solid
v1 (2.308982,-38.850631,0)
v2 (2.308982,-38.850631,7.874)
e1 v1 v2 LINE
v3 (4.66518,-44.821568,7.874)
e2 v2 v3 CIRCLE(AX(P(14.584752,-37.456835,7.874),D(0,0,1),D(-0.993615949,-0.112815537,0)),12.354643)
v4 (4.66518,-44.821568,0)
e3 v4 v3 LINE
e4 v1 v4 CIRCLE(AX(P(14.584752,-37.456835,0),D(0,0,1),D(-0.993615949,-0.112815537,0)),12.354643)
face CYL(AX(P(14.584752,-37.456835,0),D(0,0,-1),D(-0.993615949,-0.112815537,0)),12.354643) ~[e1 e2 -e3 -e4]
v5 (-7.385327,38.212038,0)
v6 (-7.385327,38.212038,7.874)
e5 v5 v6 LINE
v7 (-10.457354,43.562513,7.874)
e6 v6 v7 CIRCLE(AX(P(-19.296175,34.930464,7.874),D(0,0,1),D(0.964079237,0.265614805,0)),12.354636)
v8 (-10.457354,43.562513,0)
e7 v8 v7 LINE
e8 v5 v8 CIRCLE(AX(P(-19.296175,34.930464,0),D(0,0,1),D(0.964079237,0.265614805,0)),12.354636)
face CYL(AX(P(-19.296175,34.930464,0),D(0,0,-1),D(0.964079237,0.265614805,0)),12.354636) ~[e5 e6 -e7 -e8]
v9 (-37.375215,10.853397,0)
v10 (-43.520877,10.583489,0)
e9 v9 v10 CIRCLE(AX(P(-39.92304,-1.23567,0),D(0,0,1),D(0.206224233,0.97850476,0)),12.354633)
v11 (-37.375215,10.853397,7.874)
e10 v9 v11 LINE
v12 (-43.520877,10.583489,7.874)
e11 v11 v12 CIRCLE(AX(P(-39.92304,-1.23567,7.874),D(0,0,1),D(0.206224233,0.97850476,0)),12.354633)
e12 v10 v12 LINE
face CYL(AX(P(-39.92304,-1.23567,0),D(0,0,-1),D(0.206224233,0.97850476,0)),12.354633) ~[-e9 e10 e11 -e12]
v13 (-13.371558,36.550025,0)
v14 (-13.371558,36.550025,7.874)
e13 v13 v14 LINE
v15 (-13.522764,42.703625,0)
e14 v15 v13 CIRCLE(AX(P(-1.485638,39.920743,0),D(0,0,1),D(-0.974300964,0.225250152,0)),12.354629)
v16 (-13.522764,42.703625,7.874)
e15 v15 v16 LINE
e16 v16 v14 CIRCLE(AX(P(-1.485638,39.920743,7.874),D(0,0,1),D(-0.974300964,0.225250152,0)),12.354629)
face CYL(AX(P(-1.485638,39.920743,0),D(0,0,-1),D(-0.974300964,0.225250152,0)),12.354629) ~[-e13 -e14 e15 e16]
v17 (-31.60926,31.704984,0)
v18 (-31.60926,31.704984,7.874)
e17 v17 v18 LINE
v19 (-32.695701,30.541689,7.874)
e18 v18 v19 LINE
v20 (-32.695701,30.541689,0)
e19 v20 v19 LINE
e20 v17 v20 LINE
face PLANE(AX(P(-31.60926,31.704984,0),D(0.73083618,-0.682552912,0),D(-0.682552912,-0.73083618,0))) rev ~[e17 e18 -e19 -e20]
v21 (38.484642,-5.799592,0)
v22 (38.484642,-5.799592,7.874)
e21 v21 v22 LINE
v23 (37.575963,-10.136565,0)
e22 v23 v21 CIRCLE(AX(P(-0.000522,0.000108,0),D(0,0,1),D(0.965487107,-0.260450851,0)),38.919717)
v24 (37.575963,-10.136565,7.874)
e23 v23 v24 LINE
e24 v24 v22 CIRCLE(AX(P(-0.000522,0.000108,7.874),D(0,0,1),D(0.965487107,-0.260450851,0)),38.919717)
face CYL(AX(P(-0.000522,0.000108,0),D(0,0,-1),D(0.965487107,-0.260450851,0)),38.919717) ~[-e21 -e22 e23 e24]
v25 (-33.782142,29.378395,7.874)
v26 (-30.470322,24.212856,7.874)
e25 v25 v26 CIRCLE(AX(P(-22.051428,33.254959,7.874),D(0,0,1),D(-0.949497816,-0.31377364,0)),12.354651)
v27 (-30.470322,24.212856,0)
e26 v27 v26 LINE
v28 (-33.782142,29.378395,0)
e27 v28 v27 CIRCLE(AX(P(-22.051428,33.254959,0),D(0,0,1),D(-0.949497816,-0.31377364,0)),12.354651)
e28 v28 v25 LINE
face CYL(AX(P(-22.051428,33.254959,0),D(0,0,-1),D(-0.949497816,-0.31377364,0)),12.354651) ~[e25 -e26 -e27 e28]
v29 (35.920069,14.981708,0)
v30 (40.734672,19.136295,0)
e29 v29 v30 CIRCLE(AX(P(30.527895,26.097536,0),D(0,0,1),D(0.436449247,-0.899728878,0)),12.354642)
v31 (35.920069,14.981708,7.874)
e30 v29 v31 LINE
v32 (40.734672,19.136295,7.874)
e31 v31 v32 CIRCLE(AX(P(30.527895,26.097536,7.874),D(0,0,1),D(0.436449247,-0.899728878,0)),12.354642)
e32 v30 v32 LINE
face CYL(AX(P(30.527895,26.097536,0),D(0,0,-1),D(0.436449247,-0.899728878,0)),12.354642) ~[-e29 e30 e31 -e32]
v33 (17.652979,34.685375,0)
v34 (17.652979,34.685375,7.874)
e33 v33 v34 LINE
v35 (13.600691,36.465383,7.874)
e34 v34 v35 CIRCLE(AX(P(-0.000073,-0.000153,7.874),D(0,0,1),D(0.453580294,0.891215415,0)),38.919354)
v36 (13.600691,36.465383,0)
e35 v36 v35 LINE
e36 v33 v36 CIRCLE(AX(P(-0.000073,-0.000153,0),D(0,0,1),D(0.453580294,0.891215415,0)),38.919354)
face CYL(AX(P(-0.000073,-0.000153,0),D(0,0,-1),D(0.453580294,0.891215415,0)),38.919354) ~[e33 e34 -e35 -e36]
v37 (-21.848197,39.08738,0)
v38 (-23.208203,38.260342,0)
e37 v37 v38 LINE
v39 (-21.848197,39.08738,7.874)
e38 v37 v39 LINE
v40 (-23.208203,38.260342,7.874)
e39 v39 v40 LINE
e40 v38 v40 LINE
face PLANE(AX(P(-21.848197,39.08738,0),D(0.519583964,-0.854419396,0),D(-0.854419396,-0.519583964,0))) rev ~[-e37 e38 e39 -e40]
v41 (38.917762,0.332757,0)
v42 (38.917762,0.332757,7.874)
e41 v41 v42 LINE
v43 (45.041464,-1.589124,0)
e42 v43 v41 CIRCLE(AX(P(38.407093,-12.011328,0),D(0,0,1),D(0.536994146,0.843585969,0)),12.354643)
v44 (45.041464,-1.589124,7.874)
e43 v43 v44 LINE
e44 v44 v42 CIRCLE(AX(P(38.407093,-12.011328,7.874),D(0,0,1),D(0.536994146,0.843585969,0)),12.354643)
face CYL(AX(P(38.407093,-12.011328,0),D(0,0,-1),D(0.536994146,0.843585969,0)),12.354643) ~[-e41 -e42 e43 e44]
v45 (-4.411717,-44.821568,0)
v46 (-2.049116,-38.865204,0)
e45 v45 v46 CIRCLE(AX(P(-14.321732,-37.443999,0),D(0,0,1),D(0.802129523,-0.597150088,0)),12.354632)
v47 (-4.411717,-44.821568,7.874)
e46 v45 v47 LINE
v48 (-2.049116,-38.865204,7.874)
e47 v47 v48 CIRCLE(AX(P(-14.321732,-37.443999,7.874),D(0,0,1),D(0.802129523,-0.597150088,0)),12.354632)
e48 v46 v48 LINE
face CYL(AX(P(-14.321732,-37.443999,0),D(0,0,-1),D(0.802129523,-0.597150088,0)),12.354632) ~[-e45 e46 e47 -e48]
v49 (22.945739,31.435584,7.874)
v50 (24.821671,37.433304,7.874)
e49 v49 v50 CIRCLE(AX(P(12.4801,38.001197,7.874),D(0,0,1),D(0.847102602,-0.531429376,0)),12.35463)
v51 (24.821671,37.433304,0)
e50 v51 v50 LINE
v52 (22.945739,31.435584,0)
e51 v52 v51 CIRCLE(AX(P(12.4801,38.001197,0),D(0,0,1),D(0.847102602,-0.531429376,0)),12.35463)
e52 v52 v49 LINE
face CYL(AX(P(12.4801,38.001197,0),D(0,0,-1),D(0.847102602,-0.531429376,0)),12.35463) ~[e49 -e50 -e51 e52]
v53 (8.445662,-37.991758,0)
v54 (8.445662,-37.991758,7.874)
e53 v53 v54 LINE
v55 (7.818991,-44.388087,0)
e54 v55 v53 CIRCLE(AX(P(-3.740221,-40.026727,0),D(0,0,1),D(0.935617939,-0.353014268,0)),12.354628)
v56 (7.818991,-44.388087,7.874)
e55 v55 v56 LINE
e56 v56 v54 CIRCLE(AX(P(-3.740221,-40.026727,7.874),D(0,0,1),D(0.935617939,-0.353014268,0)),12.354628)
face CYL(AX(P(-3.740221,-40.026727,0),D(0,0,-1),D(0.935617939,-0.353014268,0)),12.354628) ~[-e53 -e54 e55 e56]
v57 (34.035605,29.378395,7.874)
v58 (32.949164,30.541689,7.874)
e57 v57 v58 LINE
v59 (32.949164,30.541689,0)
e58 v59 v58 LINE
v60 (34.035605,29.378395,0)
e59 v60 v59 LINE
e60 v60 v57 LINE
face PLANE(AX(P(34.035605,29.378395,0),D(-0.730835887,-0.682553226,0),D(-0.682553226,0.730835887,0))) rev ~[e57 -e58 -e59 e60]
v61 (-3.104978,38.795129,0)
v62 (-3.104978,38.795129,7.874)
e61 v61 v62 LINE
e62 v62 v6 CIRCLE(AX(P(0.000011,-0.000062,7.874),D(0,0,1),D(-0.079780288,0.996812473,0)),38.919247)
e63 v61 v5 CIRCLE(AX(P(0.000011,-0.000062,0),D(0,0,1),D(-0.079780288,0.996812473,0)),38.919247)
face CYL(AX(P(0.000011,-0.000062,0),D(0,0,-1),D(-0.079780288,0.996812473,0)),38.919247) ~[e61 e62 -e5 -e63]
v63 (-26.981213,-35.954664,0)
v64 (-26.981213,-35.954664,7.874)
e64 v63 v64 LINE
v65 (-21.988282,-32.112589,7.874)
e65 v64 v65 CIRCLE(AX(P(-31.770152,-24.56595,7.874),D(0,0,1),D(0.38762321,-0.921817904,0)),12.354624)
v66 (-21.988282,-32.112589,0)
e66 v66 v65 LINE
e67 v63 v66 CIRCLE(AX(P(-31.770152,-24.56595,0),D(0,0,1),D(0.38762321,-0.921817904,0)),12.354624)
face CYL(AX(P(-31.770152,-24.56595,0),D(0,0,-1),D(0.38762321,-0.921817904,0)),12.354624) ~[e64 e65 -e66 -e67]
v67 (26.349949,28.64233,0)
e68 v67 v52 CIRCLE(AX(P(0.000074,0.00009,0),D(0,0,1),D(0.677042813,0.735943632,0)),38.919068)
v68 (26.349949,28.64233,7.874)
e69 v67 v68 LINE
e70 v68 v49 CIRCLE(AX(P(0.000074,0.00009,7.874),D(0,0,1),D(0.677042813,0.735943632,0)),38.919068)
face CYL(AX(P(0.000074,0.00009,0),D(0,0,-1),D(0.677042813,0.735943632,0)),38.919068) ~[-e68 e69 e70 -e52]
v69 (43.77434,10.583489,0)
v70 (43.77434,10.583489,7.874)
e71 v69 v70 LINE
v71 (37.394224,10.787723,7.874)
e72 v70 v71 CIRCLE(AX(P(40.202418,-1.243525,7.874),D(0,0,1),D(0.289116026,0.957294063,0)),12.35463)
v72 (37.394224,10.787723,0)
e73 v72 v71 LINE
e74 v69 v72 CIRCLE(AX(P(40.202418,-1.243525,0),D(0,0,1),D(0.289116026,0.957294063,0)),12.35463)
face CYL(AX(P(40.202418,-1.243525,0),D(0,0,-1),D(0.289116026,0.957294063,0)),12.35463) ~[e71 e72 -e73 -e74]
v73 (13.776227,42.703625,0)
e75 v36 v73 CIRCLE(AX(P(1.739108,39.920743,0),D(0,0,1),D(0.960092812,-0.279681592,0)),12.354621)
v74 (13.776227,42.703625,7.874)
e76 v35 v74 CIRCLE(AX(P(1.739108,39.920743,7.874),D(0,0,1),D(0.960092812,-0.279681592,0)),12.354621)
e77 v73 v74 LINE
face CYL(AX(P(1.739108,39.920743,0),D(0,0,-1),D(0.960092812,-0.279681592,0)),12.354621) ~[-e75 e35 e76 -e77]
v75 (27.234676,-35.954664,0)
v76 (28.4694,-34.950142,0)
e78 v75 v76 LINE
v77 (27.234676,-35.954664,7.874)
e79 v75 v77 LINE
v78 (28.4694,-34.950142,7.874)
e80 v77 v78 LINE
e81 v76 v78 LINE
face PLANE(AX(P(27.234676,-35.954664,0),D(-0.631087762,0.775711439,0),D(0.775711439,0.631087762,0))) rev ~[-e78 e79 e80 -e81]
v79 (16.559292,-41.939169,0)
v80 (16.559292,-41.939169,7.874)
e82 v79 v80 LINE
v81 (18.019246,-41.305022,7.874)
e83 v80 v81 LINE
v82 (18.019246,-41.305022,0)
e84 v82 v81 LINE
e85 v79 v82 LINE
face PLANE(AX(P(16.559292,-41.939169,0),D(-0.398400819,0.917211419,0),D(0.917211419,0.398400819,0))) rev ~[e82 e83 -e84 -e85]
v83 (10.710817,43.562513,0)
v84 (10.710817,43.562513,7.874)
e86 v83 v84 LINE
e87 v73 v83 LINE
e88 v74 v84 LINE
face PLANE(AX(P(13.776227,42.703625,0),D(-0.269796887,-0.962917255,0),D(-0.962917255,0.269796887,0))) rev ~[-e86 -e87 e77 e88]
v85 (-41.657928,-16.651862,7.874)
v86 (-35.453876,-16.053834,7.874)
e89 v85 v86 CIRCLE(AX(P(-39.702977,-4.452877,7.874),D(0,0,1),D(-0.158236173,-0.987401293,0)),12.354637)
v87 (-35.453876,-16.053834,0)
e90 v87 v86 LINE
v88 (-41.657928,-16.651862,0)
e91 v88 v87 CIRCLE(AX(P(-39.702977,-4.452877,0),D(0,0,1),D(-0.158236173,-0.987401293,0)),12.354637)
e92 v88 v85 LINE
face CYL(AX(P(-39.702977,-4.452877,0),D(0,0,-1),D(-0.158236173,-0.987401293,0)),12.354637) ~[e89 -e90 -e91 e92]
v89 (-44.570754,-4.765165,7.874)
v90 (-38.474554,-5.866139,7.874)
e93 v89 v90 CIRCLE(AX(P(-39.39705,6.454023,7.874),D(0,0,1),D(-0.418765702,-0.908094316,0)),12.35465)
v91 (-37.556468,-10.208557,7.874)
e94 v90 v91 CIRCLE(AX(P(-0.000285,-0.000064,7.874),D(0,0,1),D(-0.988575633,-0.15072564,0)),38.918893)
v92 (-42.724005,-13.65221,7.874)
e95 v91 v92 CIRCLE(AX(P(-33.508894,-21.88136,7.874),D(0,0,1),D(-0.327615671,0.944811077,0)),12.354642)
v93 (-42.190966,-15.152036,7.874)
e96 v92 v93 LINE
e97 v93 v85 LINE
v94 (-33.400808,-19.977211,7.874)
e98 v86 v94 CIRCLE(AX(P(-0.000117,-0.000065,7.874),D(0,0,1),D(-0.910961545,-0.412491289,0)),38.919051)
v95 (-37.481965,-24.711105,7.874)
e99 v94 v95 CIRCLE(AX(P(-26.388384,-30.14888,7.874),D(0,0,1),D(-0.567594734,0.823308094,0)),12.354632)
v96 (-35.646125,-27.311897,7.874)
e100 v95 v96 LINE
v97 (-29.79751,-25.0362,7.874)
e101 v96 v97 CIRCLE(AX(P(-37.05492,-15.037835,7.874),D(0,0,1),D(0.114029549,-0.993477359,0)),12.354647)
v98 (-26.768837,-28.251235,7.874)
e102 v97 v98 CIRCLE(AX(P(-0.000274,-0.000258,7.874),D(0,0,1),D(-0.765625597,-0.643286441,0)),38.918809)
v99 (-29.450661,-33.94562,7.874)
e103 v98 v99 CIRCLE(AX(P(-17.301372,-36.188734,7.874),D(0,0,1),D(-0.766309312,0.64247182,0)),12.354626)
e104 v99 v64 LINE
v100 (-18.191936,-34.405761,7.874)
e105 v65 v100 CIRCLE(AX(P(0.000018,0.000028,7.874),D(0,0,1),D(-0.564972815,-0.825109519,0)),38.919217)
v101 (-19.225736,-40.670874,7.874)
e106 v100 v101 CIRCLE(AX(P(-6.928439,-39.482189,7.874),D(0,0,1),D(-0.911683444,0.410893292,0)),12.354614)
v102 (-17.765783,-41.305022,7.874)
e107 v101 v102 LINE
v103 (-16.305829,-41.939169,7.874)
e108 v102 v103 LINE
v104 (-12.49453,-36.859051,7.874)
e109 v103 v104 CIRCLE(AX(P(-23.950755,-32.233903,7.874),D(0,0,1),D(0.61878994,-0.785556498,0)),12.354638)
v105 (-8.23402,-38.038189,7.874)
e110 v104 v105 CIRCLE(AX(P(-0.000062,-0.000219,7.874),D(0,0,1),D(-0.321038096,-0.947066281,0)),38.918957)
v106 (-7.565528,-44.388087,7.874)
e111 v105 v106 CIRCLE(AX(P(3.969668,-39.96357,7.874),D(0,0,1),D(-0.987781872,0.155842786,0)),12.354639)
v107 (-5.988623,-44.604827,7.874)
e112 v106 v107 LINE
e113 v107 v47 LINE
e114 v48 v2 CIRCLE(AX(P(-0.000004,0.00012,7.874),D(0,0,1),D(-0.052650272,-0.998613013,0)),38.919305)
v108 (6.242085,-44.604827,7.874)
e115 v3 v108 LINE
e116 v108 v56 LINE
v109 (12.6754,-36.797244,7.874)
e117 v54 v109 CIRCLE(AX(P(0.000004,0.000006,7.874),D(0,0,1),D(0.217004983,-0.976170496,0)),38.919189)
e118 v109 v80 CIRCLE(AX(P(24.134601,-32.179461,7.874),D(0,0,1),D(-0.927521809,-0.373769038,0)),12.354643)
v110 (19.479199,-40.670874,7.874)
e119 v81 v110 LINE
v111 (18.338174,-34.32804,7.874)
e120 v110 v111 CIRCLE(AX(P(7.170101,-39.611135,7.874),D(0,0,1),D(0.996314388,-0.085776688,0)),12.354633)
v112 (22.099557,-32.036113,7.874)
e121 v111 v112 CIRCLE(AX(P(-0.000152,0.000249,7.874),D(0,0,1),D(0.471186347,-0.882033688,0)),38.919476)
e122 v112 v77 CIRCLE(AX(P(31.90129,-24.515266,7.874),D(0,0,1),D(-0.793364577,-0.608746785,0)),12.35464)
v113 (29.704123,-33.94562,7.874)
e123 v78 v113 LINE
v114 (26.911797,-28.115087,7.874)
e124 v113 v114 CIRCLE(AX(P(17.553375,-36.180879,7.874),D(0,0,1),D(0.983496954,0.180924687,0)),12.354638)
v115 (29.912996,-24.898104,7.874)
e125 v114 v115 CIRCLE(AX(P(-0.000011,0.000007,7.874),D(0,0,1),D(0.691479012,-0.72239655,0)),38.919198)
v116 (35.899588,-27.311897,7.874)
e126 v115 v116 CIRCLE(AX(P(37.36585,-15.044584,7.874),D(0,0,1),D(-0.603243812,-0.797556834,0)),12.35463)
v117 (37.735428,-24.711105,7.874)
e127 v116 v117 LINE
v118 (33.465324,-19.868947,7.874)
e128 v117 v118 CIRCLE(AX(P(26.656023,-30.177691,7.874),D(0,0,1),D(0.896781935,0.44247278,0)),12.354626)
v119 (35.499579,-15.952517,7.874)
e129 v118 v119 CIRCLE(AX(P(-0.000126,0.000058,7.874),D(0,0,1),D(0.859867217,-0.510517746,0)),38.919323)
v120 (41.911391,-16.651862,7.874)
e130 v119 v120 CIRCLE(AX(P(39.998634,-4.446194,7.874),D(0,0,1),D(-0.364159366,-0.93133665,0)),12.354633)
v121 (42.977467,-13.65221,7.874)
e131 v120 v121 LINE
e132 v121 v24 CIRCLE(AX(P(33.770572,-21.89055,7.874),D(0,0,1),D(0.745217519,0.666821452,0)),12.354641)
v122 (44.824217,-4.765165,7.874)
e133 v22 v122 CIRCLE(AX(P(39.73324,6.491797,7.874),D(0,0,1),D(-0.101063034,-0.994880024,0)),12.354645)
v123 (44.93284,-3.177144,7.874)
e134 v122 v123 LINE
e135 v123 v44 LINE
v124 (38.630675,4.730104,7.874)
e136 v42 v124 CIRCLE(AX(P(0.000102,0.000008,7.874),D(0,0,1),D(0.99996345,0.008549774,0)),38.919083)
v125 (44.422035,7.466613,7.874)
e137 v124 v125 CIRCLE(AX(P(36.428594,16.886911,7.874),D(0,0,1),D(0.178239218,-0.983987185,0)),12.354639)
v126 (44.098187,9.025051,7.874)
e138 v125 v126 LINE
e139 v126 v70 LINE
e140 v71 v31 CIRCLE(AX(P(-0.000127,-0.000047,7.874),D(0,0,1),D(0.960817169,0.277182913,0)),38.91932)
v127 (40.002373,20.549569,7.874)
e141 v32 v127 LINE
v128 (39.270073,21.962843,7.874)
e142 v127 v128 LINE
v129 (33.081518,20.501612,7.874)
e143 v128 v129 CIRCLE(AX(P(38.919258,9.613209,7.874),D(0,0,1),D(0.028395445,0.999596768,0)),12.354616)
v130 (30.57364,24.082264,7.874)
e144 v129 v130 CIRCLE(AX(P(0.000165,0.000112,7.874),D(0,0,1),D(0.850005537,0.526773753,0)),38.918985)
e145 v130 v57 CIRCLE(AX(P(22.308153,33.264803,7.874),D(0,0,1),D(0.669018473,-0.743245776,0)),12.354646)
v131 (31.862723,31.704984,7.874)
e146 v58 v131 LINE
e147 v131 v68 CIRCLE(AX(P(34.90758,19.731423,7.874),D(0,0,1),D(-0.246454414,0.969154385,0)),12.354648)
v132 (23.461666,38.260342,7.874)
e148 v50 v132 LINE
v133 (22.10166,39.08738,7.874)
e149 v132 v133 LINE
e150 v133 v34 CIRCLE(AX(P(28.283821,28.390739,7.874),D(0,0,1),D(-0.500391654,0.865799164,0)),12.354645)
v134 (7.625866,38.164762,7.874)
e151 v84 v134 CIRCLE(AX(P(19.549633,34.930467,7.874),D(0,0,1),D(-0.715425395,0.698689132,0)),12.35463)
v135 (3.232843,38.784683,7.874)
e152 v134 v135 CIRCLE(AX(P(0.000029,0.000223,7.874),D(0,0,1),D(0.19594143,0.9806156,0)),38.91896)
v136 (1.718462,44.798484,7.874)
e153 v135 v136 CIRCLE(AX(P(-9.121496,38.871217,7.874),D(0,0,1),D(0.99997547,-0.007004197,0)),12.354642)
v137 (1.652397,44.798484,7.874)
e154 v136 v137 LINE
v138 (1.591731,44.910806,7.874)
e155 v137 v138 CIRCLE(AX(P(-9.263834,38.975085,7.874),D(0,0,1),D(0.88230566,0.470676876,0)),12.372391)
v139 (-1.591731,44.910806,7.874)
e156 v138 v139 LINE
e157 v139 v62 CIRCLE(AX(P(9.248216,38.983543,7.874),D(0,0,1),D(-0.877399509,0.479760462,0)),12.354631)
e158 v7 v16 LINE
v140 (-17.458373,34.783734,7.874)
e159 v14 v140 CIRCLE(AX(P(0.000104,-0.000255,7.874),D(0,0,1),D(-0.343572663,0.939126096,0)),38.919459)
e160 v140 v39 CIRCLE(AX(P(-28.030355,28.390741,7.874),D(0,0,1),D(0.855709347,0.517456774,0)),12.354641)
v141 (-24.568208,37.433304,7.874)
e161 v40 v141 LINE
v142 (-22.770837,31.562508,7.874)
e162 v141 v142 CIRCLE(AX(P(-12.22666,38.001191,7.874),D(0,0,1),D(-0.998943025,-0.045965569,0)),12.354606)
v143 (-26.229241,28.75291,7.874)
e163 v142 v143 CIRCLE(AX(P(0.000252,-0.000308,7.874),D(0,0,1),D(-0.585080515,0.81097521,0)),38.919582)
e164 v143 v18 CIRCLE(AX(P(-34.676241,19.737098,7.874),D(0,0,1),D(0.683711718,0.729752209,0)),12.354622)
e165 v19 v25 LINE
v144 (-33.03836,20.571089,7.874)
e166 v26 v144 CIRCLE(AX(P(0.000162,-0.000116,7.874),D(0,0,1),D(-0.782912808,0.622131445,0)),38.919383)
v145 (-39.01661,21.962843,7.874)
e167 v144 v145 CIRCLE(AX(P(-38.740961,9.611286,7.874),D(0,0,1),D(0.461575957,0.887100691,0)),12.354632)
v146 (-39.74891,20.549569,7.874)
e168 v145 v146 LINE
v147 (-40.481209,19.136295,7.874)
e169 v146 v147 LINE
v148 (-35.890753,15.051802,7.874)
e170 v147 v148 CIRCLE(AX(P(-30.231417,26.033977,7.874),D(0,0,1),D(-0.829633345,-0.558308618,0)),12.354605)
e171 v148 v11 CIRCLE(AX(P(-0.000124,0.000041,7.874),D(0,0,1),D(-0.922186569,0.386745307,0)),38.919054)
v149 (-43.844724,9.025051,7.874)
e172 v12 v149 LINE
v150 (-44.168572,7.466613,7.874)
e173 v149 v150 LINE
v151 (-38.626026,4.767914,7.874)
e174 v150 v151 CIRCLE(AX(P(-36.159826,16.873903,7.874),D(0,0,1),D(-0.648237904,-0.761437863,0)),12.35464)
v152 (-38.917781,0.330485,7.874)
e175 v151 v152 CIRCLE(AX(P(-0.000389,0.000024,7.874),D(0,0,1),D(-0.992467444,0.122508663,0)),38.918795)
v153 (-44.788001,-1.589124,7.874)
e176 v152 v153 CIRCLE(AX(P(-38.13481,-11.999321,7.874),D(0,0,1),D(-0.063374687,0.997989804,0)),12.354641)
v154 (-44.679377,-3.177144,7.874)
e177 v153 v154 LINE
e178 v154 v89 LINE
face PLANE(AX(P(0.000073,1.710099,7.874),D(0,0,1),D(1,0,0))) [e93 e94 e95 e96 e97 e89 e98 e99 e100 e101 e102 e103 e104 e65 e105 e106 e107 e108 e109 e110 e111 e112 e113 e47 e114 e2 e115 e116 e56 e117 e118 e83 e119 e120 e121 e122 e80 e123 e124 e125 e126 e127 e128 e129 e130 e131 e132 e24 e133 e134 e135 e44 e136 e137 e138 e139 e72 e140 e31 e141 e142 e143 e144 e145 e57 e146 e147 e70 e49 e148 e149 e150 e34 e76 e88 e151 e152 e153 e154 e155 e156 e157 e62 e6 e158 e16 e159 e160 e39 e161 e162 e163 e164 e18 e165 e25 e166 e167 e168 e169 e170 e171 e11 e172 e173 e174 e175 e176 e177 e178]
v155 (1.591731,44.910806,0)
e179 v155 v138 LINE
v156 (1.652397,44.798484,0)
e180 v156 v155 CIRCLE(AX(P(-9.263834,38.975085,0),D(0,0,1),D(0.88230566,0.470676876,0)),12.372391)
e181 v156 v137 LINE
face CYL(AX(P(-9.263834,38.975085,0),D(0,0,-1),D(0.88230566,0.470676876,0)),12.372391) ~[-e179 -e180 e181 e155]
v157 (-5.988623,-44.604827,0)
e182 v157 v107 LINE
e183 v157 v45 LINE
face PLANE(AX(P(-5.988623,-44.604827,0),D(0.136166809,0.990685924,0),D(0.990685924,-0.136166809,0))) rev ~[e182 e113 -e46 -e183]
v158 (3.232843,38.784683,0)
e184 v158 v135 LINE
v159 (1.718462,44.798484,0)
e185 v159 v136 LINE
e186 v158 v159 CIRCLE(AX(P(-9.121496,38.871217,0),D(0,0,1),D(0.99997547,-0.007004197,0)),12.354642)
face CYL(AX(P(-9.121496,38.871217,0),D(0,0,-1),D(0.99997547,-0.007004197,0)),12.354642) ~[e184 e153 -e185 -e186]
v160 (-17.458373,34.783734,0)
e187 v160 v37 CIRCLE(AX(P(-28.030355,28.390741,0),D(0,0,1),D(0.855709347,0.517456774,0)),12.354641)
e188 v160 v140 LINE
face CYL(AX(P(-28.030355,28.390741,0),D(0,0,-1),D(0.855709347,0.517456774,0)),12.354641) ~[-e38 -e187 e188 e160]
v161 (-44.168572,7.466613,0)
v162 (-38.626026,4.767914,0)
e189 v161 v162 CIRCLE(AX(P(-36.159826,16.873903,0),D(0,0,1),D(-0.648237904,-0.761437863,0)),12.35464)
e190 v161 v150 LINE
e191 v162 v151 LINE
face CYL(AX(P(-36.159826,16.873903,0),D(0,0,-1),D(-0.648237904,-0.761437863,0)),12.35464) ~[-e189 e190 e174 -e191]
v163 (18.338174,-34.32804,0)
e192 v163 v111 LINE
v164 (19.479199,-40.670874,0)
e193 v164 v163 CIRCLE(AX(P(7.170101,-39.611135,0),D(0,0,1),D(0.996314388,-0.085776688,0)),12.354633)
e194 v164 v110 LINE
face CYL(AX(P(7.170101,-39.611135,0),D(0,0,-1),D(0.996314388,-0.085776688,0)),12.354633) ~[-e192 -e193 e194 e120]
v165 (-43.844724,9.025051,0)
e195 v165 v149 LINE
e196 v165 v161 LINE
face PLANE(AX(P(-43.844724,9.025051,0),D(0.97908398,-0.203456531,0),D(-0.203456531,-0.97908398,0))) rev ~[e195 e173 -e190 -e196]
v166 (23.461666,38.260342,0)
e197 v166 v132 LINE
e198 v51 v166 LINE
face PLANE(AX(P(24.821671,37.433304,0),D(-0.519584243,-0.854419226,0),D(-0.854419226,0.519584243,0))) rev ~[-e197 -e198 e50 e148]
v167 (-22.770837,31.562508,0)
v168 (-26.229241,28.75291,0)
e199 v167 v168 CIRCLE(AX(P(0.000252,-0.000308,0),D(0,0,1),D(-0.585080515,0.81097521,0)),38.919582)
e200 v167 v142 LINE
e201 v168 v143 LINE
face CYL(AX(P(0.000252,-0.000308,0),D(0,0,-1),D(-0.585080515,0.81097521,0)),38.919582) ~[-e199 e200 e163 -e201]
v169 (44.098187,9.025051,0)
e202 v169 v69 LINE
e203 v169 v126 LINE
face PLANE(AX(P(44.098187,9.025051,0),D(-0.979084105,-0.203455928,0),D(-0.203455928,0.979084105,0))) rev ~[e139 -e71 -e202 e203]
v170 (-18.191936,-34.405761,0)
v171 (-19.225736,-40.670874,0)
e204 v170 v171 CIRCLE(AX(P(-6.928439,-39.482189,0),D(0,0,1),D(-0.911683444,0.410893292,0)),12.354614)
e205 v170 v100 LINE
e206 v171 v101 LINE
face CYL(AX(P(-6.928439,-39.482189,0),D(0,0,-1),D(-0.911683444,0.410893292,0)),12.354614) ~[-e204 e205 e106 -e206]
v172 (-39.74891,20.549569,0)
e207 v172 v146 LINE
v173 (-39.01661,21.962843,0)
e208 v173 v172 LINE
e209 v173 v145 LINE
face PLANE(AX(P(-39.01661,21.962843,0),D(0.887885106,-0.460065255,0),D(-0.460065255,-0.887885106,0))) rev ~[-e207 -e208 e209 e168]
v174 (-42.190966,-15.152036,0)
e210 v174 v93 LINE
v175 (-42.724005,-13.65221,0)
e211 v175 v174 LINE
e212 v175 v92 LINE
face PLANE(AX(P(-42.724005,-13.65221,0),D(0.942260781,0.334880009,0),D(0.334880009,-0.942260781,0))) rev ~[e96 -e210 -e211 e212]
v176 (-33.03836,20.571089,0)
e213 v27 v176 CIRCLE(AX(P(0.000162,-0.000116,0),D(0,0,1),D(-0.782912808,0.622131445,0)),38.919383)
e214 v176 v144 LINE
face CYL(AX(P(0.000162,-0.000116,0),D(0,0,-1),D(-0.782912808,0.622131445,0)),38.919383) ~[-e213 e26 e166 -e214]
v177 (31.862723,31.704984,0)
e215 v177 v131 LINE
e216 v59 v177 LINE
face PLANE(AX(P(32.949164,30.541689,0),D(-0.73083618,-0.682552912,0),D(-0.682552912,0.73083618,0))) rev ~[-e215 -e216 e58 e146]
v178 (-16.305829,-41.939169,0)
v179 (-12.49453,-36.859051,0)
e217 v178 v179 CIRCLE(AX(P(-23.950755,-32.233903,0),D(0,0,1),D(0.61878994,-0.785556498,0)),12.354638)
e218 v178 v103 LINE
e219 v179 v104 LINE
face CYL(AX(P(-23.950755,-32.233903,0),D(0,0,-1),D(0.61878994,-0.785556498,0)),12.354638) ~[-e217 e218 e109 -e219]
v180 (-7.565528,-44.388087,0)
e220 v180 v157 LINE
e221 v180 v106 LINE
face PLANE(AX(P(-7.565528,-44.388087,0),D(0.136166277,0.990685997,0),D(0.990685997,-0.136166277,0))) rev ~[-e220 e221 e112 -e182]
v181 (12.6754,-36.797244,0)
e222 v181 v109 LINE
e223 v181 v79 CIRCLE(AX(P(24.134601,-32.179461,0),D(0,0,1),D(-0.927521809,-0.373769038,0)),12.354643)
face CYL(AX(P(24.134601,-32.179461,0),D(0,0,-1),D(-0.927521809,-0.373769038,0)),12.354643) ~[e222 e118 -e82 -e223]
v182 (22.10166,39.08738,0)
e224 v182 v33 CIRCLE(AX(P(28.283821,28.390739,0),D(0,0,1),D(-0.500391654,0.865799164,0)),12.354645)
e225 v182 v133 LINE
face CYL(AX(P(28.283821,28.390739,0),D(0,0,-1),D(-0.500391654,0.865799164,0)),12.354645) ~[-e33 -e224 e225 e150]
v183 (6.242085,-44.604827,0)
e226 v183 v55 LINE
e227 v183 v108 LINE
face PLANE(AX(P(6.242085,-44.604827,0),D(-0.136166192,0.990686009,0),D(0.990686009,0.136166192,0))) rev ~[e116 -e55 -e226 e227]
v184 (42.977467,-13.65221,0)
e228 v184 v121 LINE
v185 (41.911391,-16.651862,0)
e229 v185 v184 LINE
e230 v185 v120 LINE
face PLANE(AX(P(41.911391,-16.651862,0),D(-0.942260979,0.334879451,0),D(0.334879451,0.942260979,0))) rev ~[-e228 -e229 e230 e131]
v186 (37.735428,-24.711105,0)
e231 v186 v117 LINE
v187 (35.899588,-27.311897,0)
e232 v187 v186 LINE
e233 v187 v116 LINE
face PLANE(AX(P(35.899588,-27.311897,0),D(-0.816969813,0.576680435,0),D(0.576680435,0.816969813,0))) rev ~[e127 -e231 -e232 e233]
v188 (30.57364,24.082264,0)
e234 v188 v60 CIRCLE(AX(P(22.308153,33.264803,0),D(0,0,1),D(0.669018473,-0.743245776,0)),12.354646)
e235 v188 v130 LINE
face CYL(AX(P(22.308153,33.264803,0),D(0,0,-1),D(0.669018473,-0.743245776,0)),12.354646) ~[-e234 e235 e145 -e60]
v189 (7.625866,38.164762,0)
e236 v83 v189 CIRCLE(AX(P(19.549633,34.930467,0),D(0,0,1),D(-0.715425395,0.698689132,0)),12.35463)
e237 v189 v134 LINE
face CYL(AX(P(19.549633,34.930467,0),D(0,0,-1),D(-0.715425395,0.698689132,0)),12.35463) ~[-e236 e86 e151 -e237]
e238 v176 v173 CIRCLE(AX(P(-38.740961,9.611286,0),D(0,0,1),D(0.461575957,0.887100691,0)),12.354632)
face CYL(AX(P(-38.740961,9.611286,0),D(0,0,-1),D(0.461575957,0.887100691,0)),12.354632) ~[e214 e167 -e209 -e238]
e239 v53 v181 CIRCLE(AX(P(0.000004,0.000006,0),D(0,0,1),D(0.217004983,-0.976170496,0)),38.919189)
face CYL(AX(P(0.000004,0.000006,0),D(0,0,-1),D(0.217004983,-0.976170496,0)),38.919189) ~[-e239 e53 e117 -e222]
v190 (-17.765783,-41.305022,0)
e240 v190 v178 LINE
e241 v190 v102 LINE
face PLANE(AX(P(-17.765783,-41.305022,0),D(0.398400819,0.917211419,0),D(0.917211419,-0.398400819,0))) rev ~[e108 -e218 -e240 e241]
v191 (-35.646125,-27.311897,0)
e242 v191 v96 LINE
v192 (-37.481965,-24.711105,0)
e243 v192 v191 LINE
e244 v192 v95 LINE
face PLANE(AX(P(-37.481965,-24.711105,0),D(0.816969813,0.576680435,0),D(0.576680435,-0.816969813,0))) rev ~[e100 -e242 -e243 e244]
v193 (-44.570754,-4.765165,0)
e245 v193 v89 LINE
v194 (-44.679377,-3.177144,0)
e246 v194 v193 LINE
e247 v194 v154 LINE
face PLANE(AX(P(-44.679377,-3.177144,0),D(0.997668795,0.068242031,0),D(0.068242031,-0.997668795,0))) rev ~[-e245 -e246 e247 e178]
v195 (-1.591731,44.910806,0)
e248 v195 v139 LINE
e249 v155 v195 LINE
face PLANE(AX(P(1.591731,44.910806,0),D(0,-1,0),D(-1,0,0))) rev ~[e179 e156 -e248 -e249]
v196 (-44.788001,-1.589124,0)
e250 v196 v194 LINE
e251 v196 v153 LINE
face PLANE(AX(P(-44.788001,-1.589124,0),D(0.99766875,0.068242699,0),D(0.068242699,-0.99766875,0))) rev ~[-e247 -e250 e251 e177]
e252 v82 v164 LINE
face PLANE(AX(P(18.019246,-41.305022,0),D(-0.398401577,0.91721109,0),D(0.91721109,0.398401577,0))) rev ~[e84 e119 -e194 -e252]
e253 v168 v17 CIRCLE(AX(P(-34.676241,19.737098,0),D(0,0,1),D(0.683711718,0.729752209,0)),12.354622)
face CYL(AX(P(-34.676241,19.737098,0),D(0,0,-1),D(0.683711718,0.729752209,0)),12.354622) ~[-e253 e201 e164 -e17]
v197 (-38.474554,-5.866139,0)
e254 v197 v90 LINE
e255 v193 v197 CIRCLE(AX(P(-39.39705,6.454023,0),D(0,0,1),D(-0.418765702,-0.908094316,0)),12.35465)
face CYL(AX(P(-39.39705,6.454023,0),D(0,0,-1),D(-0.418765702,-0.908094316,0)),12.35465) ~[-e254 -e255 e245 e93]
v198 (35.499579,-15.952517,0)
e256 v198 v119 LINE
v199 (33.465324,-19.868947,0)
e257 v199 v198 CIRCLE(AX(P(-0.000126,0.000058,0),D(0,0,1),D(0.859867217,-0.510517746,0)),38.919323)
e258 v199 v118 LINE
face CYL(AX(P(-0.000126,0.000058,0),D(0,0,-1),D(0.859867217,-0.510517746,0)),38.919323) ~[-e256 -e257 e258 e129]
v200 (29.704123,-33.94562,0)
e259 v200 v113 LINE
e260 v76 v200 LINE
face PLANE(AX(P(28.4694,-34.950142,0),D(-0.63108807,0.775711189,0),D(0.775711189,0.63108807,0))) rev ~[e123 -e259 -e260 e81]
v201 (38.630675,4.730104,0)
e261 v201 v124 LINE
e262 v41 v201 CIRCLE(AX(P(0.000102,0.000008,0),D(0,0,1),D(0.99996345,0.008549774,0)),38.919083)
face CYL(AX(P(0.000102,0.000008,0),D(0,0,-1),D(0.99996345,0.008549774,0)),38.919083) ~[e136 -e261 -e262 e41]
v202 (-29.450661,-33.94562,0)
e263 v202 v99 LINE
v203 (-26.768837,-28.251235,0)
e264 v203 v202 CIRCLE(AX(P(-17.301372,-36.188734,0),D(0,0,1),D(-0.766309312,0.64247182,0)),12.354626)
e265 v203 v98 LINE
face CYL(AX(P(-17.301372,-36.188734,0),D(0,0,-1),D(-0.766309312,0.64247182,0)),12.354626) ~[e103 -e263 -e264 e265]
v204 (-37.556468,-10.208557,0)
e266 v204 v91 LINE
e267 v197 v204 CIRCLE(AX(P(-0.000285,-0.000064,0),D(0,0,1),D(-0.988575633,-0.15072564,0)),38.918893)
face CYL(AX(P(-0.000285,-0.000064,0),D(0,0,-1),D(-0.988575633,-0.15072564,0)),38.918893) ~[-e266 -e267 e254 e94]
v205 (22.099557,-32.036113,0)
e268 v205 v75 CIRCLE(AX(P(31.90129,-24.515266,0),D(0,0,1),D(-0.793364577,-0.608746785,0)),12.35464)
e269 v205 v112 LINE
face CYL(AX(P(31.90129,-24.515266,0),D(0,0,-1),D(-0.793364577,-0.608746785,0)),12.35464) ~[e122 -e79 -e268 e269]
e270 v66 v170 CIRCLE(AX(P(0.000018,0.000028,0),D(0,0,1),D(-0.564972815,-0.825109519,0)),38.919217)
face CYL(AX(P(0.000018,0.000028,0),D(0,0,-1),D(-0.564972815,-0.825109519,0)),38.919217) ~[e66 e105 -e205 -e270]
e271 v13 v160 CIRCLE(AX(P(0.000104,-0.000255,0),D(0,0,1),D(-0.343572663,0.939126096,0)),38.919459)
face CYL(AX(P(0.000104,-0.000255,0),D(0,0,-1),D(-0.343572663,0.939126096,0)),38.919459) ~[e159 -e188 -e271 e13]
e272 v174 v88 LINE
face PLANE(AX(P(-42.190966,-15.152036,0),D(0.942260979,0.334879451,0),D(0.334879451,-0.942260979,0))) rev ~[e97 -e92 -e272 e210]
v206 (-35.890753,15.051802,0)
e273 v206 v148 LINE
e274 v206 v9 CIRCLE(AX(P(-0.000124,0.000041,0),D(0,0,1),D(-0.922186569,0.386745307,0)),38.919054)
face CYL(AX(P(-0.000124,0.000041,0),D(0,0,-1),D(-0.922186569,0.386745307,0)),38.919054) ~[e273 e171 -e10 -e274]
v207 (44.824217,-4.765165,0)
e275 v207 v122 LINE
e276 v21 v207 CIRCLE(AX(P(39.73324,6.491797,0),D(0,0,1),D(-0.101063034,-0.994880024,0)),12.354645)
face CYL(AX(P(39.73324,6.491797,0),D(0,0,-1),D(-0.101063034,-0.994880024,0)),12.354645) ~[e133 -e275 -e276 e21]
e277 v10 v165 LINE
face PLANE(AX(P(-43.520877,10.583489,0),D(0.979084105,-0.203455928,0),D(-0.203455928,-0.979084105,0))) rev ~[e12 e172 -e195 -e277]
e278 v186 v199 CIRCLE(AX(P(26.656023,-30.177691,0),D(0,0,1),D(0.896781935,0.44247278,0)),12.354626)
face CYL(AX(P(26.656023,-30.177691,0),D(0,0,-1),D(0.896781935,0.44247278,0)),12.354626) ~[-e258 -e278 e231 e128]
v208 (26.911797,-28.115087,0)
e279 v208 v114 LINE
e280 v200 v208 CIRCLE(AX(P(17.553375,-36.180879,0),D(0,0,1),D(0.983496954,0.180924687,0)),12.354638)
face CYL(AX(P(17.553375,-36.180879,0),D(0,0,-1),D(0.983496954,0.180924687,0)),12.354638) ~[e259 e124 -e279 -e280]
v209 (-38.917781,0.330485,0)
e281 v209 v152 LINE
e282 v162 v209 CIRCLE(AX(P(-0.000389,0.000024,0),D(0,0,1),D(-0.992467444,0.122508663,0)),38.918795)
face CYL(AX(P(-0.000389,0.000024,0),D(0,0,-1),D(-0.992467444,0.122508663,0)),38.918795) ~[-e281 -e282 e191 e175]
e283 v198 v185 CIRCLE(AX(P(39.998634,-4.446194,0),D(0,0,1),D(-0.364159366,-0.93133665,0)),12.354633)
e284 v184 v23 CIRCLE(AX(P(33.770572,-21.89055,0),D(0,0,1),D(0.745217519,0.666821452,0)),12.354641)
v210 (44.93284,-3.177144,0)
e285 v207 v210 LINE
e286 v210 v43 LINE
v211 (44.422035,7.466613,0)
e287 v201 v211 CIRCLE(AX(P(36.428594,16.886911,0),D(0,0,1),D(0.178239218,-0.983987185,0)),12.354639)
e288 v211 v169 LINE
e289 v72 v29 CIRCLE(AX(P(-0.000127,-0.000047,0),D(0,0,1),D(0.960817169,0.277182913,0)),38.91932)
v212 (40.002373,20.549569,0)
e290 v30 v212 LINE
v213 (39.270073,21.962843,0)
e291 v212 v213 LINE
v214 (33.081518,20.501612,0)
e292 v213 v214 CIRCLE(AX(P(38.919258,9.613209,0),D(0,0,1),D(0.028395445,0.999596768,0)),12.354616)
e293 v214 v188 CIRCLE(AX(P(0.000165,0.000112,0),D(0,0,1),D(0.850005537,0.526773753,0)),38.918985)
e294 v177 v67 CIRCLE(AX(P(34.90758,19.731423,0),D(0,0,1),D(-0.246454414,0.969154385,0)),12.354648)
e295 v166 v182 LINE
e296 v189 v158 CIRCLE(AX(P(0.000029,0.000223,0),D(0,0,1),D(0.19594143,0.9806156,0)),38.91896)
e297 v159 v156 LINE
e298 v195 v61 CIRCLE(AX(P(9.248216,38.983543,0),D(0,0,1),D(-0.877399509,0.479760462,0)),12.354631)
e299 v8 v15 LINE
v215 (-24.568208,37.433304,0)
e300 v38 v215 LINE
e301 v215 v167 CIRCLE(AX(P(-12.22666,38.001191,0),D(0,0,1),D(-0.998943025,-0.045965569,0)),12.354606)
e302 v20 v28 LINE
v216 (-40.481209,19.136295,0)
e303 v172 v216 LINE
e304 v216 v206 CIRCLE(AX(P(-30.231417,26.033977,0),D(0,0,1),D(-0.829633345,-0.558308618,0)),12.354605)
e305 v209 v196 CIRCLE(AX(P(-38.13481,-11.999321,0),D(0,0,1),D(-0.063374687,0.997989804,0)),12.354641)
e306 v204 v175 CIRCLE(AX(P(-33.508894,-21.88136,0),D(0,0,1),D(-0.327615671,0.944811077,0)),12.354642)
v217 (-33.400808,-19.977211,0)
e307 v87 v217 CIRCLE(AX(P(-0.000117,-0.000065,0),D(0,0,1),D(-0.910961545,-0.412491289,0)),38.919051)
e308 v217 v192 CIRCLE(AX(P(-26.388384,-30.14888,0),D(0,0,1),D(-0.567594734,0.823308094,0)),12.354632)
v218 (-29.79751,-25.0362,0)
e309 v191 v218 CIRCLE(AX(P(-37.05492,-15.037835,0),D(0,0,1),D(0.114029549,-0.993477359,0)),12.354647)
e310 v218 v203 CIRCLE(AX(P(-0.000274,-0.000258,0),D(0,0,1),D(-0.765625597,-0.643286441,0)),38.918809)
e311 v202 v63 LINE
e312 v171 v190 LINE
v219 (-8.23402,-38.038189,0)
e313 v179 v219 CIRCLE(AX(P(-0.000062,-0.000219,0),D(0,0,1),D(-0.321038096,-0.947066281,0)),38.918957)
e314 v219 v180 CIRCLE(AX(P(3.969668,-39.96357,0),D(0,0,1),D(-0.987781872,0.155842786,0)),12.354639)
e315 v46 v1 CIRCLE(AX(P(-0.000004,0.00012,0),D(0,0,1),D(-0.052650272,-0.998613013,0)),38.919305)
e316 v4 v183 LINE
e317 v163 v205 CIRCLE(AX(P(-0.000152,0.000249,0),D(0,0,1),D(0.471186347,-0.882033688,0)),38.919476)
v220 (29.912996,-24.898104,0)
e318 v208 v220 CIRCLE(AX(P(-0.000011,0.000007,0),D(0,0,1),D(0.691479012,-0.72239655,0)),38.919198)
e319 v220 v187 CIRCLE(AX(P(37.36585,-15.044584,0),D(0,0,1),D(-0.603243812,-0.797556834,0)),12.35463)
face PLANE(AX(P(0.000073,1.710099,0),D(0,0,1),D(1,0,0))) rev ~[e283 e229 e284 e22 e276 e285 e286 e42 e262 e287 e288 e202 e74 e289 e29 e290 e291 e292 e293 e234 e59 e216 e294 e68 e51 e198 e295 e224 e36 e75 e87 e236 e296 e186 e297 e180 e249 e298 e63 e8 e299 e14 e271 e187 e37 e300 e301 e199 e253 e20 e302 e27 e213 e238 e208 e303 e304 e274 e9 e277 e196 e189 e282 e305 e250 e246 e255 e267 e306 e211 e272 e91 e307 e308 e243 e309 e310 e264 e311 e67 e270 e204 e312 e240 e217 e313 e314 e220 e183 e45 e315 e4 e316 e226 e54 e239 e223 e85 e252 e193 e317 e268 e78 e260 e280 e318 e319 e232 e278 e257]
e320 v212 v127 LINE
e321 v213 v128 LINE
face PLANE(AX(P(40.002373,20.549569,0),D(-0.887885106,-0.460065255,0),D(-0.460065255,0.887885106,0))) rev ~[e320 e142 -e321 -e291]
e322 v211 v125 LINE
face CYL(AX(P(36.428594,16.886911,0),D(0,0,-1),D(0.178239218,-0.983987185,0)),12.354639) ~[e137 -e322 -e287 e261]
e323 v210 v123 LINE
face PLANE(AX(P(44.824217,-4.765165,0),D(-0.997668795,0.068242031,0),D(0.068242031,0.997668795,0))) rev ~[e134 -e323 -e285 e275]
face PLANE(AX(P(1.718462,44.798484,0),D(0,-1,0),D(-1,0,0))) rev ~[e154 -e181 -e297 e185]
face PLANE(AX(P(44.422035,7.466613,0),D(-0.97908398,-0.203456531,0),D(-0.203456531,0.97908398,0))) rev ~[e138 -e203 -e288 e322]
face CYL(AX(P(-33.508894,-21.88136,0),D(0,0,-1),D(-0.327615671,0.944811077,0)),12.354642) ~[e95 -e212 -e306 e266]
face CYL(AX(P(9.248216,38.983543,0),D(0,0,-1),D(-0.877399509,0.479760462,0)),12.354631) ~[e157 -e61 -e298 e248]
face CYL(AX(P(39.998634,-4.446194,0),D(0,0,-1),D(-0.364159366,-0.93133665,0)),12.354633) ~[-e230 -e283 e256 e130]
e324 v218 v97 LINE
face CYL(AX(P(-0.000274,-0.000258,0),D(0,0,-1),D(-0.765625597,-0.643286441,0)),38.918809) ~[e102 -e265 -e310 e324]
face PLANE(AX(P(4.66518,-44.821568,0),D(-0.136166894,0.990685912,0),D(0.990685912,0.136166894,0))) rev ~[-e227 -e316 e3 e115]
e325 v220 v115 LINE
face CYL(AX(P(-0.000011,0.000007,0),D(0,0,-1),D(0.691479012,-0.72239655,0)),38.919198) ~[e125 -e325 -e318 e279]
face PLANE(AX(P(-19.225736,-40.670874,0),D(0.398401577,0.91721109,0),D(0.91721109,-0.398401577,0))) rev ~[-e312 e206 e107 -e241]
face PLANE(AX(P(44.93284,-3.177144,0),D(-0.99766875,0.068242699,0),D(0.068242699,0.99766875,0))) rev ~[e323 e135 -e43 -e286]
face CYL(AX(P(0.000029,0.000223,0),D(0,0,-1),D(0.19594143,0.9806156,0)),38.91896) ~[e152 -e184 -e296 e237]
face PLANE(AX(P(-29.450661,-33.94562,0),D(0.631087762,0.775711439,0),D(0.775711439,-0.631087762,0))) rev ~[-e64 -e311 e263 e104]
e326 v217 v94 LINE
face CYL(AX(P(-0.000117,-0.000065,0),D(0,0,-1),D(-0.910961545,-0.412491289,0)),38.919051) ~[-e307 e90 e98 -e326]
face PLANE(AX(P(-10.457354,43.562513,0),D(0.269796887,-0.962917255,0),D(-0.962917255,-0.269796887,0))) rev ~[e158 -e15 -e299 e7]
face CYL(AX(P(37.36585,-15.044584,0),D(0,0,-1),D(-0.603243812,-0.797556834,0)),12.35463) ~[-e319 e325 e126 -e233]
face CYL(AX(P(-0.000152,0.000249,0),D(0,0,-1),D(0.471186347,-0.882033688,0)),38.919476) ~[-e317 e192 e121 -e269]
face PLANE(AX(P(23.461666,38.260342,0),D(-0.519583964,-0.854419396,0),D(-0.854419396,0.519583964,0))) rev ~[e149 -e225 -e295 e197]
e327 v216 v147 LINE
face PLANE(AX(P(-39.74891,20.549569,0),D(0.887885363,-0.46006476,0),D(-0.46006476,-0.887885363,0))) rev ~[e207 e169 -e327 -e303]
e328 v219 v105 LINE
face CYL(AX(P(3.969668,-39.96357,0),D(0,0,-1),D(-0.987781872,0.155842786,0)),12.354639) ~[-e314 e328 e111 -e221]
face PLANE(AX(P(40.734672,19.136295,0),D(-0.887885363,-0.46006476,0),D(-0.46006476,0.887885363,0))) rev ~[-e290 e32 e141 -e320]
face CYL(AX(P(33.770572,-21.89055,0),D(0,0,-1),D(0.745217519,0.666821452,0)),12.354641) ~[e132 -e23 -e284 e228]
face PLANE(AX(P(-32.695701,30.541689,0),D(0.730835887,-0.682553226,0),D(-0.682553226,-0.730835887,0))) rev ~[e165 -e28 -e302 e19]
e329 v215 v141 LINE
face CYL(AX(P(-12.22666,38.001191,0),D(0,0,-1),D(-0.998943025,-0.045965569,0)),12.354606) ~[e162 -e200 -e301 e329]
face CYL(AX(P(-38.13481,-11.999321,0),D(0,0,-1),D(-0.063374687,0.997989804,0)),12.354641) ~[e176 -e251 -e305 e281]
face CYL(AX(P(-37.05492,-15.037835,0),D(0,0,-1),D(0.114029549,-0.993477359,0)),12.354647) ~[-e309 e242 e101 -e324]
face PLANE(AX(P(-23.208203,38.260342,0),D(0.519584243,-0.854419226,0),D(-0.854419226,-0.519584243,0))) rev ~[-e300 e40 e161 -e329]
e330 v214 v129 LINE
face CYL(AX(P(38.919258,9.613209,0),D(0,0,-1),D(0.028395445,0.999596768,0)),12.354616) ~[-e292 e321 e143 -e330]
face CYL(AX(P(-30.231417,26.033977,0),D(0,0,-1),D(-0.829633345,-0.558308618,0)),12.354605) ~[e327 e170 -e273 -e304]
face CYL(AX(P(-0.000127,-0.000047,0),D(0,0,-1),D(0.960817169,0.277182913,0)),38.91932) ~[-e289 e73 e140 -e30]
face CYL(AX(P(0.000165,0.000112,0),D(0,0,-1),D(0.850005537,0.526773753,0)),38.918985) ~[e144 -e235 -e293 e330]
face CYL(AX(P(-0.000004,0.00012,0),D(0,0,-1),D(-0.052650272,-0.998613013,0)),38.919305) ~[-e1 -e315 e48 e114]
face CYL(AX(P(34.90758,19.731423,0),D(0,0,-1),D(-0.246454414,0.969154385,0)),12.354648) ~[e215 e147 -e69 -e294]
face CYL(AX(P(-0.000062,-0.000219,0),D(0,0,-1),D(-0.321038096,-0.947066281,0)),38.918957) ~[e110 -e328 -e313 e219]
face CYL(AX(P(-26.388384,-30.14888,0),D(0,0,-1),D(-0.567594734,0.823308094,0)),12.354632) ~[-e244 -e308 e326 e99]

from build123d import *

# Parameters (mm, degrees)
F1_DEPTH = 7.874


with BuildPart() as f1:
    # F0 (on Top) → F1 (new body)
    with BuildSketch(Plane.XY):
        with BuildLine():
            ThreePointArc((-21.988282, -32.112589), (-20.122802, -33.313297), (-18.191936, -34.405761))
            ThreePointArc((-18.191936, -34.405761), (-15.392188, -35.746097), (-12.49453, -36.859051))
            ThreePointArc((-12.49453, -36.859051), (-10.38103, -37.509161), (-8.23402, -38.038189))
            ThreePointArc((-8.23402, -38.038189), (-5.158169, -38.57585), (-2.049116, -38.865204))
            ThreePointArc((-2.049116, -38.865204), (0.130137, -38.918967), (2.308982, -38.850631))
            ThreePointArc((2.308982, -38.850631), (5.394442, -38.54352), (8.445662, -37.991758))
            ThreePointArc((8.445662, -37.991758), (10.577407, -37.454257), (12.6754, -36.797244))
            ThreePointArc((12.6754, -36.797244), (15.555857, -35.675177), (18.338174, -34.32804))
            ThreePointArc((18.338174, -34.32804), (20.251315, -33.23533), (22.099557, -32.036113))
            ThreePointArc((22.099557, -32.036113), (24.583975, -30.171694), (26.911797, -28.115087))
            ThreePointArc((26.911797, -28.115087), (28.45789, -26.549038), (29.912996, -24.898104))
            ThreePointArc((29.912996, -24.898104), (31.788771, -22.453885), (33.465324, -19.868947))
            ThreePointArc((33.465324, -19.868947), (34.538009, -17.939589), (35.499579, -15.952517))
            ThreePointArc((35.499579, -15.952517), (36.653309, -13.08579), (37.575963, -10.136565))
            ThreePointArc((37.575963, -10.136565), (38.092075, -7.981021), (38.484642, -5.799592))
            ThreePointArc((38.484642, -5.799592), (38.822474, -2.741983), (38.917762, 0.332757))
            ThreePointArc((38.917762, 0.332757), (38.836506, 2.535497), (38.630675, 4.730104))
            ThreePointArc((38.630675, 4.730104), (38.132925, 7.783505), (37.394224, 10.787723))
            ThreePointArc((37.394224, 10.787723), (36.717077, 12.905781), (35.920069, 14.981708))
            ThreePointArc((35.920069, 14.981708), (34.611011, 17.798339), (33.081518, 20.501612))
            ThreePointArc((33.081518, 20.501612), (31.877893, 22.327178), (30.57364, 24.082264))
            ThreePointArc((30.57364, 24.082264), (28.552974, 26.44675), (26.349949, 28.64233))
            ThreePointArc((26.349949, 28.64233), (24.687381, 30.087142), (22.945739, 31.435584))
            ThreePointArc((22.945739, 31.435584), (20.364289, 33.166228), (17.652979, 34.685375))
            ThreePointArc((17.652979, 34.685375), (15.652159, 35.63303), (13.600691, 36.465383))
            ThreePointArc((13.600691, 36.465383), (10.647237, 37.434466), (7.625866, 38.164762))
            ThreePointArc((7.625866, 38.164762), (5.438195, 38.537371), (3.232843, 38.784683))
            ThreePointArc((3.232843, 38.784683), (3.168915, 38.789959), (3.104978, 38.795129))
            ThreePointArc((3.104978, 38.795129), (2.759904, 41.889046), (1.652397, 44.798484))
            ThreePointArc((1.652397, 44.798484), (1.622209, 44.854723), (1.591731, 44.910806))
            Line((1.591731, 44.910806), (0, 44.910806))
            Line((0, 44.910806), (-1.591731, 44.910806))
            ThreePointArc((-1.591731, 44.910806), (-2.744733, 41.951046), (-3.104978, 38.795129))
            ThreePointArc((-3.104978, 38.795129), (-5.253249, 38.563017), (-7.385327, 38.212038))
            ThreePointArc((-7.385327, 38.212038), (-10.411659, 37.50067), (-13.371558, 36.550025))
            ThreePointArc((-13.371558, 36.550025), (-15.440243, 35.725366), (-17.458373, 34.783734))
            ThreePointArc((-17.458373, 34.783734), (-20.178984, 33.279295), (-22.770837, 31.562508))
            ThreePointArc((-22.770837, 31.562508), (-24.54028, 30.207243), (-26.229241, 28.75291))
            ThreePointArc((-26.229241, 28.75291), (-28.440519, 26.567646), (-30.470322, 24.212856))
            ThreePointArc((-30.470322, 24.212856), (-31.806505, 22.428757), (-33.03836, 20.571089))
            ThreePointArc((-33.03836, 20.571089), (-34.574865, 17.868453), (-35.890753, 15.051802))
            ThreePointArc((-35.890753, 15.051802), (-36.693081, 12.973848), (-37.375215, 10.853397))
            ThreePointArc((-37.375215, 10.853397), (-38.122243, 7.835654), (-38.626026, 4.767914))
            ThreePointArc((-38.626026, 4.767914), (-38.835335, 2.55337), (-38.917781, 0.330485))
            ThreePointArc((-38.917781, 0.330485), (-38.820007, -2.776685), (-38.474554, -5.866139))
            ThreePointArc((-38.474554, -5.866139), (-38.077464, -8.050446), (-37.556468, -10.208557))
            ThreePointArc((-37.556468, -10.208557), (-36.62198, -13.173212), (-35.453876, -16.053834))
            ThreePointArc((-35.453876, -16.053834), (-34.483186, -18.044745), (-33.400808, -19.977211))
            ThreePointArc((-33.400808, -19.977211), (-31.70024, -22.578701), (-29.79751, -25.0362))
            ThreePointArc((-29.79751, -25.0362), (-28.32882, -26.686718), (-26.768837, -28.251235))
            ThreePointArc((-26.768837, -28.251235), (-24.454891, -30.276414), (-21.988282, -32.112589))
        make_face()
        with BuildLine():
            ThreePointArc((-12.49453, -36.859051), (-15.392188, -35.746097), (-18.191936, -34.405761))
            ThreePointArc((-18.191936, -34.405761), (-19.118216, -37.470766), (-19.225736, -40.670874))
            Line((-19.225736, -40.670874), (-17.765783, -41.305022))
            Line((-17.765783, -41.305022), (-16.305829, -41.939169))
            ThreePointArc((-16.305829, -41.939169), (-14.068175, -39.648193), (-12.49453, -36.859051))
        make_face()
        with BuildLine():
            ThreePointArc((-26.981213, -35.954664), (-24.235731, -34.357234), (-21.988282, -32.112589))
            ThreePointArc((-21.988282, -32.112589), (-24.454891, -30.276414), (-26.768837, -28.251235))
            ThreePointArc((-26.768837, -28.251235), (-28.47847, -30.924775), (-29.450661, -33.94562))
            Line((-29.450661, -33.94562), (-28.215937, -34.950142))
            Line((-28.215937, -34.950142), (-26.981213, -35.954664))
        make_face()
        with BuildLine():
            ThreePointArc((-2.049116, -38.865204), (-5.158169, -38.57585), (-8.23402, -38.038189))
            ThreePointArc((-8.23402, -38.038189), (-8.317071, -41.257069), (-7.565528, -44.388087))
            Line((-7.565528, -44.388087), (-5.988623, -44.604827))
            Line((-5.988623, -44.604827), (-4.411717, -44.821568))
            ThreePointArc((-4.411717, -44.821568), (-2.837532, -41.999224), (-2.049116, -38.865204))
        make_face()
        with BuildLine():
            ThreePointArc((-35.646125, -27.311897), (-32.574912, -26.551602), (-29.79751, -25.0362))
            ThreePointArc((-29.79751, -25.0362), (-31.70024, -22.578701), (-33.400808, -19.977211))
            ThreePointArc((-33.400808, -19.977211), (-35.745696, -22.081808), (-37.481965, -24.711105))
            Line((-37.481965, -24.711105), (-36.564045, -26.011501))
            Line((-36.564045, -26.011501), (-35.646125, -27.311897))
        make_face()
        with BuildLine():
            ThreePointArc((8.445662, -37.991758), (5.394442, -38.54352), (2.308982, -38.850631))
            ThreePointArc((2.308982, -38.850631), (3.092523, -41.991796), (4.66518, -44.821568))
            Line((4.66518, -44.821568), (6.242085, -44.604827))
            Line((6.242085, -44.604827), (7.818991, -44.388087))
            ThreePointArc((7.818991, -44.388087), (8.555536, -41.231386), (8.445662, -37.991758))
        make_face()
        with BuildLine():
            ThreePointArc((-41.657928, -16.651862), (-38.51757, -16.750514), (-35.453876, -16.053834))
            ThreePointArc((-35.453876, -16.053834), (-36.62198, -13.173212), (-37.556468, -10.208557))
            ThreePointArc((-37.556468, -10.208557), (-40.360127, -11.600417), (-42.724005, -13.65221))
            Line((-42.724005, -13.65221), (-42.190966, -15.152036))
            Line((-42.190966, -15.152036), (-41.657928, -16.651862))
        make_face()
        with BuildLine():
            ThreePointArc((18.338174, -34.32804), (15.555857, -35.675177), (12.6754, -36.797244))
            ThreePointArc((12.6754, -36.797244), (14.276204, -39.625884), (16.559292, -41.939169))
            Line((16.559292, -41.939169), (18.019246, -41.305022))
            Line((18.019246, -41.305022), (19.479199, -40.670874))
            ThreePointArc((19.479199, -40.670874), (19.329553, -37.423746), (18.338174, -34.32804))
        make_face()
        with BuildLine():
            ThreePointArc((-44.570754, -4.765165), (-41.59278, -5.703944), (-38.474554, -5.866139))
            ThreePointArc((-38.474554, -5.866139), (-38.820007, -2.776685), (-38.917781, 0.330485))
            ThreePointArc((-38.917781, 0.330485), (-41.974778, -0.256587), (-44.788001, -1.589124))
            Line((-44.788001, -1.589124), (-44.679377, -3.177144))
            Line((-44.679377, -3.177144), (-44.570754, -4.765165))
        make_face()
        with BuildLine():
            ThreePointArc((26.911797, -28.115087), (24.583975, -30.171694), (22.099557, -32.036113))
            ThreePointArc((22.099557, -32.036113), (24.40649, -34.33693), (27.234676, -35.954664))
            Line((27.234676, -35.954664), (28.4694, -34.950142))
            Line((28.4694, -34.950142), (29.704123, -33.94562))
            ThreePointArc((29.704123, -33.94562), (28.69608, -30.844477), (26.911797, -28.115087))
        make_face()
        with BuildLine():
            ThreePointArc((-44.168572, 7.466613), (-41.568326, 5.766012), (-38.626026, 4.767914))
            ThreePointArc((-38.626026, 4.767914), (-38.122243, 7.835654), (-37.375215, 10.853397))
            ThreePointArc((-37.375215, 10.853397), (-40.465114, 11.107065), (-43.520877, 10.583489))
            Line((-43.520877, 10.583489), (-43.844724, 9.025051))
            Line((-43.844724, 9.025051), (-44.168572, 7.466613))
        make_face()
        with BuildLine():
            ThreePointArc((33.465324, -19.868947), (31.788771, -22.453885), (29.912996, -24.898104))
            ThreePointArc((29.912996, -24.898104), (32.745866, -26.502884), (35.899588, -27.311897))
            Line((35.899588, -27.311897), (36.817508, -26.011501))
            Line((36.817508, -26.011501), (37.735428, -24.711105))
            ThreePointArc((37.735428, -24.711105), (35.922256, -22.006173), (33.465324, -19.868947))
        make_face()
        with BuildLine():
            ThreePointArc((-40.481209, 19.136295), (-38.44396, 16.804113), (-35.890753, 15.051802))
            ThreePointArc((-35.890753, 15.051802), (-34.574865, 17.868453), (-33.03836, 20.571089))
            ThreePointArc((-33.03836, 20.571089), (-35.939676, 21.644147), (-39.01661, 21.962843))
            Line((-39.01661, 21.962843), (-39.74891, 20.549569))
            Line((-39.74891, 20.549569), (-40.481209, 19.136295))
        make_face()
        with BuildLine():
            ThreePointArc((37.575963, -10.136565), (36.653309, -13.08579), (35.499579, -15.952517))
            ThreePointArc((35.499579, -15.952517), (38.659043, -16.727988), (41.911391, -16.651862))
            Line((41.911391, -16.651862), (42.444429, -15.152036))
            Line((42.444429, -15.152036), (42.977467, -13.65221))
            ThreePointArc((42.977467, -13.65221), (40.509996, -11.53597), (37.575963, -10.136565))
        make_face()
        with BuildLine():
            ThreePointArc((-33.782142, 29.378395), (-32.452023, 26.586749), (-30.470322, 24.212856))
            ThreePointArc((-30.470322, 24.212856), (-28.440519, 26.567646), (-26.229241, 28.75291))
            ThreePointArc((-26.229241, 28.75291), (-28.733041, 30.568305), (-31.60926, 31.704984))
            Line((-31.60926, 31.704984), (-32.695701, 30.541689))
            Line((-32.695701, 30.541689), (-33.782142, 29.378395))
        make_face()
        with BuildLine():
            ThreePointArc((38.917762, 0.332757), (38.822474, -2.741983), (38.484642, -5.799592))
            ThreePointArc((38.484642, -5.799592), (41.722833, -5.701593), (44.824217, -4.765165))
            Line((44.824217, -4.765165), (44.93284, -3.177144))
            Line((44.93284, -3.177144), (45.041464, -1.589124))
            ThreePointArc((45.041464, -1.589124), (42.106594, -0.223584), (38.917762, 0.332757))
        make_face()
        with BuildLine():
            ThreePointArc((-24.568208, 37.433304), (-24.040028, 34.384474), (-22.770837, 31.562508))
            ThreePointArc((-22.770837, 31.562508), (-20.178984, 33.279295), (-17.458373, 34.783734))
            ThreePointArc((-17.458373, 34.783734), (-19.381329, 37.212958), (-21.848197, 39.08738))
            Line((-21.848197, 39.08738), (-23.208203, 38.260342))
            Line((-23.208203, 38.260342), (-24.568208, 37.433304))
        make_face()
        with BuildLine():
            ThreePointArc((37.394224, 10.787723), (38.132925, 7.783505), (38.630675, 4.730104))
            ThreePointArc((38.630675, 4.730104), (41.706783, 5.716511), (44.422035, 7.466613))
            Line((44.422035, 7.466613), (44.098187, 9.025051))
            Line((44.098187, 9.025051), (43.77434, 10.583489))
            ThreePointArc((43.77434, 10.583489), (40.5977, 11.10478), (37.394224, 10.787723))
        make_face()
        with BuildLine():
            ThreePointArc((-13.522764, 42.703625), (-13.836538, 39.617258), (-13.371558, 36.550025))
            ThreePointArc((-13.371558, 36.550025), (-10.411659, 37.50067), (-7.385327, 38.212038))
            ThreePointArc((-7.385327, 38.212038), (-8.581975, 41.082126), (-10.457354, 43.562513))
            Line((-10.457354, 43.562513), (-11.990059, 43.133069))
            Line((-11.990059, 43.133069), (-13.522764, 42.703625))
        make_face()
        with BuildLine():
            ThreePointArc((33.081518, 20.501612), (34.611011, 17.798339), (35.920069, 14.981708))
            ThreePointArc((35.920069, 14.981708), (38.599262, 16.743916), (40.734672, 19.136295))
            Line((40.734672, 19.136295), (40.002373, 20.549569))
            Line((40.002373, 20.549569), (39.270073, 21.962843))
            ThreePointArc((39.270073, 21.962843), (36.080176, 21.637191), (33.081518, 20.501612))
        make_face()
        with BuildLine():
            ThreePointArc((26.349949, 28.64233), (28.552974, 26.44675), (30.57364, 24.082264))
            ThreePointArc((30.57364, 24.082264), (32.649413, 26.504948), (34.035605, 29.378395))
            Line((34.035605, 29.378395), (32.949164, 30.541689))
            Line((32.949164, 30.541689), (31.862723, 31.704984))
            ThreePointArc((31.862723, 31.704984), (28.907631, 30.531327), (26.349949, 28.64233))
        make_face()
        with BuildLine():
            ThreePointArc((17.652979, 34.685375), (20.364289, 33.166228), (22.945739, 31.435584))
            ThreePointArc((22.945739, 31.435584), (24.271426, 34.313175), (24.821671, 37.433304))
            Line((24.821671, 37.433304), (23.461666, 38.260342))
            Line((23.461666, 38.260342), (22.10166, 39.08738))
            ThreePointArc((22.10166, 39.08738), (19.59396, 37.172741), (17.652979, 34.685375))
        make_face()
        with BuildLine():
            Line((1.718462, 44.798484), (1.652397, 44.798484))
            ThreePointArc((1.652397, 44.798484), (2.759904, 41.889046), (3.104978, 38.795129))
            ThreePointArc((3.104978, 38.795129), (3.168915, 38.789959), (3.232843, 38.784683))
            ThreePointArc((3.232843, 38.784683), (2.859126, 41.888149), (1.718462, 44.798484))
        make_face()
        with BuildLine():
            ThreePointArc((7.625866, 38.164762), (10.647237, 37.434466), (13.600691, 36.465383))
            ThreePointArc((13.600691, 36.465383), (14.088841, 39.573238), (13.776227, 42.703625))
            Line((13.776227, 42.703625), (12.243522, 43.133069))
            Line((12.243522, 43.133069), (10.710817, 43.562513))
            ThreePointArc((10.710817, 43.562513), (8.823257, 41.060862), (7.625866, 38.164762))
        make_face()
    extrude(amount=F1_DEPTH)


solid = f1.part
